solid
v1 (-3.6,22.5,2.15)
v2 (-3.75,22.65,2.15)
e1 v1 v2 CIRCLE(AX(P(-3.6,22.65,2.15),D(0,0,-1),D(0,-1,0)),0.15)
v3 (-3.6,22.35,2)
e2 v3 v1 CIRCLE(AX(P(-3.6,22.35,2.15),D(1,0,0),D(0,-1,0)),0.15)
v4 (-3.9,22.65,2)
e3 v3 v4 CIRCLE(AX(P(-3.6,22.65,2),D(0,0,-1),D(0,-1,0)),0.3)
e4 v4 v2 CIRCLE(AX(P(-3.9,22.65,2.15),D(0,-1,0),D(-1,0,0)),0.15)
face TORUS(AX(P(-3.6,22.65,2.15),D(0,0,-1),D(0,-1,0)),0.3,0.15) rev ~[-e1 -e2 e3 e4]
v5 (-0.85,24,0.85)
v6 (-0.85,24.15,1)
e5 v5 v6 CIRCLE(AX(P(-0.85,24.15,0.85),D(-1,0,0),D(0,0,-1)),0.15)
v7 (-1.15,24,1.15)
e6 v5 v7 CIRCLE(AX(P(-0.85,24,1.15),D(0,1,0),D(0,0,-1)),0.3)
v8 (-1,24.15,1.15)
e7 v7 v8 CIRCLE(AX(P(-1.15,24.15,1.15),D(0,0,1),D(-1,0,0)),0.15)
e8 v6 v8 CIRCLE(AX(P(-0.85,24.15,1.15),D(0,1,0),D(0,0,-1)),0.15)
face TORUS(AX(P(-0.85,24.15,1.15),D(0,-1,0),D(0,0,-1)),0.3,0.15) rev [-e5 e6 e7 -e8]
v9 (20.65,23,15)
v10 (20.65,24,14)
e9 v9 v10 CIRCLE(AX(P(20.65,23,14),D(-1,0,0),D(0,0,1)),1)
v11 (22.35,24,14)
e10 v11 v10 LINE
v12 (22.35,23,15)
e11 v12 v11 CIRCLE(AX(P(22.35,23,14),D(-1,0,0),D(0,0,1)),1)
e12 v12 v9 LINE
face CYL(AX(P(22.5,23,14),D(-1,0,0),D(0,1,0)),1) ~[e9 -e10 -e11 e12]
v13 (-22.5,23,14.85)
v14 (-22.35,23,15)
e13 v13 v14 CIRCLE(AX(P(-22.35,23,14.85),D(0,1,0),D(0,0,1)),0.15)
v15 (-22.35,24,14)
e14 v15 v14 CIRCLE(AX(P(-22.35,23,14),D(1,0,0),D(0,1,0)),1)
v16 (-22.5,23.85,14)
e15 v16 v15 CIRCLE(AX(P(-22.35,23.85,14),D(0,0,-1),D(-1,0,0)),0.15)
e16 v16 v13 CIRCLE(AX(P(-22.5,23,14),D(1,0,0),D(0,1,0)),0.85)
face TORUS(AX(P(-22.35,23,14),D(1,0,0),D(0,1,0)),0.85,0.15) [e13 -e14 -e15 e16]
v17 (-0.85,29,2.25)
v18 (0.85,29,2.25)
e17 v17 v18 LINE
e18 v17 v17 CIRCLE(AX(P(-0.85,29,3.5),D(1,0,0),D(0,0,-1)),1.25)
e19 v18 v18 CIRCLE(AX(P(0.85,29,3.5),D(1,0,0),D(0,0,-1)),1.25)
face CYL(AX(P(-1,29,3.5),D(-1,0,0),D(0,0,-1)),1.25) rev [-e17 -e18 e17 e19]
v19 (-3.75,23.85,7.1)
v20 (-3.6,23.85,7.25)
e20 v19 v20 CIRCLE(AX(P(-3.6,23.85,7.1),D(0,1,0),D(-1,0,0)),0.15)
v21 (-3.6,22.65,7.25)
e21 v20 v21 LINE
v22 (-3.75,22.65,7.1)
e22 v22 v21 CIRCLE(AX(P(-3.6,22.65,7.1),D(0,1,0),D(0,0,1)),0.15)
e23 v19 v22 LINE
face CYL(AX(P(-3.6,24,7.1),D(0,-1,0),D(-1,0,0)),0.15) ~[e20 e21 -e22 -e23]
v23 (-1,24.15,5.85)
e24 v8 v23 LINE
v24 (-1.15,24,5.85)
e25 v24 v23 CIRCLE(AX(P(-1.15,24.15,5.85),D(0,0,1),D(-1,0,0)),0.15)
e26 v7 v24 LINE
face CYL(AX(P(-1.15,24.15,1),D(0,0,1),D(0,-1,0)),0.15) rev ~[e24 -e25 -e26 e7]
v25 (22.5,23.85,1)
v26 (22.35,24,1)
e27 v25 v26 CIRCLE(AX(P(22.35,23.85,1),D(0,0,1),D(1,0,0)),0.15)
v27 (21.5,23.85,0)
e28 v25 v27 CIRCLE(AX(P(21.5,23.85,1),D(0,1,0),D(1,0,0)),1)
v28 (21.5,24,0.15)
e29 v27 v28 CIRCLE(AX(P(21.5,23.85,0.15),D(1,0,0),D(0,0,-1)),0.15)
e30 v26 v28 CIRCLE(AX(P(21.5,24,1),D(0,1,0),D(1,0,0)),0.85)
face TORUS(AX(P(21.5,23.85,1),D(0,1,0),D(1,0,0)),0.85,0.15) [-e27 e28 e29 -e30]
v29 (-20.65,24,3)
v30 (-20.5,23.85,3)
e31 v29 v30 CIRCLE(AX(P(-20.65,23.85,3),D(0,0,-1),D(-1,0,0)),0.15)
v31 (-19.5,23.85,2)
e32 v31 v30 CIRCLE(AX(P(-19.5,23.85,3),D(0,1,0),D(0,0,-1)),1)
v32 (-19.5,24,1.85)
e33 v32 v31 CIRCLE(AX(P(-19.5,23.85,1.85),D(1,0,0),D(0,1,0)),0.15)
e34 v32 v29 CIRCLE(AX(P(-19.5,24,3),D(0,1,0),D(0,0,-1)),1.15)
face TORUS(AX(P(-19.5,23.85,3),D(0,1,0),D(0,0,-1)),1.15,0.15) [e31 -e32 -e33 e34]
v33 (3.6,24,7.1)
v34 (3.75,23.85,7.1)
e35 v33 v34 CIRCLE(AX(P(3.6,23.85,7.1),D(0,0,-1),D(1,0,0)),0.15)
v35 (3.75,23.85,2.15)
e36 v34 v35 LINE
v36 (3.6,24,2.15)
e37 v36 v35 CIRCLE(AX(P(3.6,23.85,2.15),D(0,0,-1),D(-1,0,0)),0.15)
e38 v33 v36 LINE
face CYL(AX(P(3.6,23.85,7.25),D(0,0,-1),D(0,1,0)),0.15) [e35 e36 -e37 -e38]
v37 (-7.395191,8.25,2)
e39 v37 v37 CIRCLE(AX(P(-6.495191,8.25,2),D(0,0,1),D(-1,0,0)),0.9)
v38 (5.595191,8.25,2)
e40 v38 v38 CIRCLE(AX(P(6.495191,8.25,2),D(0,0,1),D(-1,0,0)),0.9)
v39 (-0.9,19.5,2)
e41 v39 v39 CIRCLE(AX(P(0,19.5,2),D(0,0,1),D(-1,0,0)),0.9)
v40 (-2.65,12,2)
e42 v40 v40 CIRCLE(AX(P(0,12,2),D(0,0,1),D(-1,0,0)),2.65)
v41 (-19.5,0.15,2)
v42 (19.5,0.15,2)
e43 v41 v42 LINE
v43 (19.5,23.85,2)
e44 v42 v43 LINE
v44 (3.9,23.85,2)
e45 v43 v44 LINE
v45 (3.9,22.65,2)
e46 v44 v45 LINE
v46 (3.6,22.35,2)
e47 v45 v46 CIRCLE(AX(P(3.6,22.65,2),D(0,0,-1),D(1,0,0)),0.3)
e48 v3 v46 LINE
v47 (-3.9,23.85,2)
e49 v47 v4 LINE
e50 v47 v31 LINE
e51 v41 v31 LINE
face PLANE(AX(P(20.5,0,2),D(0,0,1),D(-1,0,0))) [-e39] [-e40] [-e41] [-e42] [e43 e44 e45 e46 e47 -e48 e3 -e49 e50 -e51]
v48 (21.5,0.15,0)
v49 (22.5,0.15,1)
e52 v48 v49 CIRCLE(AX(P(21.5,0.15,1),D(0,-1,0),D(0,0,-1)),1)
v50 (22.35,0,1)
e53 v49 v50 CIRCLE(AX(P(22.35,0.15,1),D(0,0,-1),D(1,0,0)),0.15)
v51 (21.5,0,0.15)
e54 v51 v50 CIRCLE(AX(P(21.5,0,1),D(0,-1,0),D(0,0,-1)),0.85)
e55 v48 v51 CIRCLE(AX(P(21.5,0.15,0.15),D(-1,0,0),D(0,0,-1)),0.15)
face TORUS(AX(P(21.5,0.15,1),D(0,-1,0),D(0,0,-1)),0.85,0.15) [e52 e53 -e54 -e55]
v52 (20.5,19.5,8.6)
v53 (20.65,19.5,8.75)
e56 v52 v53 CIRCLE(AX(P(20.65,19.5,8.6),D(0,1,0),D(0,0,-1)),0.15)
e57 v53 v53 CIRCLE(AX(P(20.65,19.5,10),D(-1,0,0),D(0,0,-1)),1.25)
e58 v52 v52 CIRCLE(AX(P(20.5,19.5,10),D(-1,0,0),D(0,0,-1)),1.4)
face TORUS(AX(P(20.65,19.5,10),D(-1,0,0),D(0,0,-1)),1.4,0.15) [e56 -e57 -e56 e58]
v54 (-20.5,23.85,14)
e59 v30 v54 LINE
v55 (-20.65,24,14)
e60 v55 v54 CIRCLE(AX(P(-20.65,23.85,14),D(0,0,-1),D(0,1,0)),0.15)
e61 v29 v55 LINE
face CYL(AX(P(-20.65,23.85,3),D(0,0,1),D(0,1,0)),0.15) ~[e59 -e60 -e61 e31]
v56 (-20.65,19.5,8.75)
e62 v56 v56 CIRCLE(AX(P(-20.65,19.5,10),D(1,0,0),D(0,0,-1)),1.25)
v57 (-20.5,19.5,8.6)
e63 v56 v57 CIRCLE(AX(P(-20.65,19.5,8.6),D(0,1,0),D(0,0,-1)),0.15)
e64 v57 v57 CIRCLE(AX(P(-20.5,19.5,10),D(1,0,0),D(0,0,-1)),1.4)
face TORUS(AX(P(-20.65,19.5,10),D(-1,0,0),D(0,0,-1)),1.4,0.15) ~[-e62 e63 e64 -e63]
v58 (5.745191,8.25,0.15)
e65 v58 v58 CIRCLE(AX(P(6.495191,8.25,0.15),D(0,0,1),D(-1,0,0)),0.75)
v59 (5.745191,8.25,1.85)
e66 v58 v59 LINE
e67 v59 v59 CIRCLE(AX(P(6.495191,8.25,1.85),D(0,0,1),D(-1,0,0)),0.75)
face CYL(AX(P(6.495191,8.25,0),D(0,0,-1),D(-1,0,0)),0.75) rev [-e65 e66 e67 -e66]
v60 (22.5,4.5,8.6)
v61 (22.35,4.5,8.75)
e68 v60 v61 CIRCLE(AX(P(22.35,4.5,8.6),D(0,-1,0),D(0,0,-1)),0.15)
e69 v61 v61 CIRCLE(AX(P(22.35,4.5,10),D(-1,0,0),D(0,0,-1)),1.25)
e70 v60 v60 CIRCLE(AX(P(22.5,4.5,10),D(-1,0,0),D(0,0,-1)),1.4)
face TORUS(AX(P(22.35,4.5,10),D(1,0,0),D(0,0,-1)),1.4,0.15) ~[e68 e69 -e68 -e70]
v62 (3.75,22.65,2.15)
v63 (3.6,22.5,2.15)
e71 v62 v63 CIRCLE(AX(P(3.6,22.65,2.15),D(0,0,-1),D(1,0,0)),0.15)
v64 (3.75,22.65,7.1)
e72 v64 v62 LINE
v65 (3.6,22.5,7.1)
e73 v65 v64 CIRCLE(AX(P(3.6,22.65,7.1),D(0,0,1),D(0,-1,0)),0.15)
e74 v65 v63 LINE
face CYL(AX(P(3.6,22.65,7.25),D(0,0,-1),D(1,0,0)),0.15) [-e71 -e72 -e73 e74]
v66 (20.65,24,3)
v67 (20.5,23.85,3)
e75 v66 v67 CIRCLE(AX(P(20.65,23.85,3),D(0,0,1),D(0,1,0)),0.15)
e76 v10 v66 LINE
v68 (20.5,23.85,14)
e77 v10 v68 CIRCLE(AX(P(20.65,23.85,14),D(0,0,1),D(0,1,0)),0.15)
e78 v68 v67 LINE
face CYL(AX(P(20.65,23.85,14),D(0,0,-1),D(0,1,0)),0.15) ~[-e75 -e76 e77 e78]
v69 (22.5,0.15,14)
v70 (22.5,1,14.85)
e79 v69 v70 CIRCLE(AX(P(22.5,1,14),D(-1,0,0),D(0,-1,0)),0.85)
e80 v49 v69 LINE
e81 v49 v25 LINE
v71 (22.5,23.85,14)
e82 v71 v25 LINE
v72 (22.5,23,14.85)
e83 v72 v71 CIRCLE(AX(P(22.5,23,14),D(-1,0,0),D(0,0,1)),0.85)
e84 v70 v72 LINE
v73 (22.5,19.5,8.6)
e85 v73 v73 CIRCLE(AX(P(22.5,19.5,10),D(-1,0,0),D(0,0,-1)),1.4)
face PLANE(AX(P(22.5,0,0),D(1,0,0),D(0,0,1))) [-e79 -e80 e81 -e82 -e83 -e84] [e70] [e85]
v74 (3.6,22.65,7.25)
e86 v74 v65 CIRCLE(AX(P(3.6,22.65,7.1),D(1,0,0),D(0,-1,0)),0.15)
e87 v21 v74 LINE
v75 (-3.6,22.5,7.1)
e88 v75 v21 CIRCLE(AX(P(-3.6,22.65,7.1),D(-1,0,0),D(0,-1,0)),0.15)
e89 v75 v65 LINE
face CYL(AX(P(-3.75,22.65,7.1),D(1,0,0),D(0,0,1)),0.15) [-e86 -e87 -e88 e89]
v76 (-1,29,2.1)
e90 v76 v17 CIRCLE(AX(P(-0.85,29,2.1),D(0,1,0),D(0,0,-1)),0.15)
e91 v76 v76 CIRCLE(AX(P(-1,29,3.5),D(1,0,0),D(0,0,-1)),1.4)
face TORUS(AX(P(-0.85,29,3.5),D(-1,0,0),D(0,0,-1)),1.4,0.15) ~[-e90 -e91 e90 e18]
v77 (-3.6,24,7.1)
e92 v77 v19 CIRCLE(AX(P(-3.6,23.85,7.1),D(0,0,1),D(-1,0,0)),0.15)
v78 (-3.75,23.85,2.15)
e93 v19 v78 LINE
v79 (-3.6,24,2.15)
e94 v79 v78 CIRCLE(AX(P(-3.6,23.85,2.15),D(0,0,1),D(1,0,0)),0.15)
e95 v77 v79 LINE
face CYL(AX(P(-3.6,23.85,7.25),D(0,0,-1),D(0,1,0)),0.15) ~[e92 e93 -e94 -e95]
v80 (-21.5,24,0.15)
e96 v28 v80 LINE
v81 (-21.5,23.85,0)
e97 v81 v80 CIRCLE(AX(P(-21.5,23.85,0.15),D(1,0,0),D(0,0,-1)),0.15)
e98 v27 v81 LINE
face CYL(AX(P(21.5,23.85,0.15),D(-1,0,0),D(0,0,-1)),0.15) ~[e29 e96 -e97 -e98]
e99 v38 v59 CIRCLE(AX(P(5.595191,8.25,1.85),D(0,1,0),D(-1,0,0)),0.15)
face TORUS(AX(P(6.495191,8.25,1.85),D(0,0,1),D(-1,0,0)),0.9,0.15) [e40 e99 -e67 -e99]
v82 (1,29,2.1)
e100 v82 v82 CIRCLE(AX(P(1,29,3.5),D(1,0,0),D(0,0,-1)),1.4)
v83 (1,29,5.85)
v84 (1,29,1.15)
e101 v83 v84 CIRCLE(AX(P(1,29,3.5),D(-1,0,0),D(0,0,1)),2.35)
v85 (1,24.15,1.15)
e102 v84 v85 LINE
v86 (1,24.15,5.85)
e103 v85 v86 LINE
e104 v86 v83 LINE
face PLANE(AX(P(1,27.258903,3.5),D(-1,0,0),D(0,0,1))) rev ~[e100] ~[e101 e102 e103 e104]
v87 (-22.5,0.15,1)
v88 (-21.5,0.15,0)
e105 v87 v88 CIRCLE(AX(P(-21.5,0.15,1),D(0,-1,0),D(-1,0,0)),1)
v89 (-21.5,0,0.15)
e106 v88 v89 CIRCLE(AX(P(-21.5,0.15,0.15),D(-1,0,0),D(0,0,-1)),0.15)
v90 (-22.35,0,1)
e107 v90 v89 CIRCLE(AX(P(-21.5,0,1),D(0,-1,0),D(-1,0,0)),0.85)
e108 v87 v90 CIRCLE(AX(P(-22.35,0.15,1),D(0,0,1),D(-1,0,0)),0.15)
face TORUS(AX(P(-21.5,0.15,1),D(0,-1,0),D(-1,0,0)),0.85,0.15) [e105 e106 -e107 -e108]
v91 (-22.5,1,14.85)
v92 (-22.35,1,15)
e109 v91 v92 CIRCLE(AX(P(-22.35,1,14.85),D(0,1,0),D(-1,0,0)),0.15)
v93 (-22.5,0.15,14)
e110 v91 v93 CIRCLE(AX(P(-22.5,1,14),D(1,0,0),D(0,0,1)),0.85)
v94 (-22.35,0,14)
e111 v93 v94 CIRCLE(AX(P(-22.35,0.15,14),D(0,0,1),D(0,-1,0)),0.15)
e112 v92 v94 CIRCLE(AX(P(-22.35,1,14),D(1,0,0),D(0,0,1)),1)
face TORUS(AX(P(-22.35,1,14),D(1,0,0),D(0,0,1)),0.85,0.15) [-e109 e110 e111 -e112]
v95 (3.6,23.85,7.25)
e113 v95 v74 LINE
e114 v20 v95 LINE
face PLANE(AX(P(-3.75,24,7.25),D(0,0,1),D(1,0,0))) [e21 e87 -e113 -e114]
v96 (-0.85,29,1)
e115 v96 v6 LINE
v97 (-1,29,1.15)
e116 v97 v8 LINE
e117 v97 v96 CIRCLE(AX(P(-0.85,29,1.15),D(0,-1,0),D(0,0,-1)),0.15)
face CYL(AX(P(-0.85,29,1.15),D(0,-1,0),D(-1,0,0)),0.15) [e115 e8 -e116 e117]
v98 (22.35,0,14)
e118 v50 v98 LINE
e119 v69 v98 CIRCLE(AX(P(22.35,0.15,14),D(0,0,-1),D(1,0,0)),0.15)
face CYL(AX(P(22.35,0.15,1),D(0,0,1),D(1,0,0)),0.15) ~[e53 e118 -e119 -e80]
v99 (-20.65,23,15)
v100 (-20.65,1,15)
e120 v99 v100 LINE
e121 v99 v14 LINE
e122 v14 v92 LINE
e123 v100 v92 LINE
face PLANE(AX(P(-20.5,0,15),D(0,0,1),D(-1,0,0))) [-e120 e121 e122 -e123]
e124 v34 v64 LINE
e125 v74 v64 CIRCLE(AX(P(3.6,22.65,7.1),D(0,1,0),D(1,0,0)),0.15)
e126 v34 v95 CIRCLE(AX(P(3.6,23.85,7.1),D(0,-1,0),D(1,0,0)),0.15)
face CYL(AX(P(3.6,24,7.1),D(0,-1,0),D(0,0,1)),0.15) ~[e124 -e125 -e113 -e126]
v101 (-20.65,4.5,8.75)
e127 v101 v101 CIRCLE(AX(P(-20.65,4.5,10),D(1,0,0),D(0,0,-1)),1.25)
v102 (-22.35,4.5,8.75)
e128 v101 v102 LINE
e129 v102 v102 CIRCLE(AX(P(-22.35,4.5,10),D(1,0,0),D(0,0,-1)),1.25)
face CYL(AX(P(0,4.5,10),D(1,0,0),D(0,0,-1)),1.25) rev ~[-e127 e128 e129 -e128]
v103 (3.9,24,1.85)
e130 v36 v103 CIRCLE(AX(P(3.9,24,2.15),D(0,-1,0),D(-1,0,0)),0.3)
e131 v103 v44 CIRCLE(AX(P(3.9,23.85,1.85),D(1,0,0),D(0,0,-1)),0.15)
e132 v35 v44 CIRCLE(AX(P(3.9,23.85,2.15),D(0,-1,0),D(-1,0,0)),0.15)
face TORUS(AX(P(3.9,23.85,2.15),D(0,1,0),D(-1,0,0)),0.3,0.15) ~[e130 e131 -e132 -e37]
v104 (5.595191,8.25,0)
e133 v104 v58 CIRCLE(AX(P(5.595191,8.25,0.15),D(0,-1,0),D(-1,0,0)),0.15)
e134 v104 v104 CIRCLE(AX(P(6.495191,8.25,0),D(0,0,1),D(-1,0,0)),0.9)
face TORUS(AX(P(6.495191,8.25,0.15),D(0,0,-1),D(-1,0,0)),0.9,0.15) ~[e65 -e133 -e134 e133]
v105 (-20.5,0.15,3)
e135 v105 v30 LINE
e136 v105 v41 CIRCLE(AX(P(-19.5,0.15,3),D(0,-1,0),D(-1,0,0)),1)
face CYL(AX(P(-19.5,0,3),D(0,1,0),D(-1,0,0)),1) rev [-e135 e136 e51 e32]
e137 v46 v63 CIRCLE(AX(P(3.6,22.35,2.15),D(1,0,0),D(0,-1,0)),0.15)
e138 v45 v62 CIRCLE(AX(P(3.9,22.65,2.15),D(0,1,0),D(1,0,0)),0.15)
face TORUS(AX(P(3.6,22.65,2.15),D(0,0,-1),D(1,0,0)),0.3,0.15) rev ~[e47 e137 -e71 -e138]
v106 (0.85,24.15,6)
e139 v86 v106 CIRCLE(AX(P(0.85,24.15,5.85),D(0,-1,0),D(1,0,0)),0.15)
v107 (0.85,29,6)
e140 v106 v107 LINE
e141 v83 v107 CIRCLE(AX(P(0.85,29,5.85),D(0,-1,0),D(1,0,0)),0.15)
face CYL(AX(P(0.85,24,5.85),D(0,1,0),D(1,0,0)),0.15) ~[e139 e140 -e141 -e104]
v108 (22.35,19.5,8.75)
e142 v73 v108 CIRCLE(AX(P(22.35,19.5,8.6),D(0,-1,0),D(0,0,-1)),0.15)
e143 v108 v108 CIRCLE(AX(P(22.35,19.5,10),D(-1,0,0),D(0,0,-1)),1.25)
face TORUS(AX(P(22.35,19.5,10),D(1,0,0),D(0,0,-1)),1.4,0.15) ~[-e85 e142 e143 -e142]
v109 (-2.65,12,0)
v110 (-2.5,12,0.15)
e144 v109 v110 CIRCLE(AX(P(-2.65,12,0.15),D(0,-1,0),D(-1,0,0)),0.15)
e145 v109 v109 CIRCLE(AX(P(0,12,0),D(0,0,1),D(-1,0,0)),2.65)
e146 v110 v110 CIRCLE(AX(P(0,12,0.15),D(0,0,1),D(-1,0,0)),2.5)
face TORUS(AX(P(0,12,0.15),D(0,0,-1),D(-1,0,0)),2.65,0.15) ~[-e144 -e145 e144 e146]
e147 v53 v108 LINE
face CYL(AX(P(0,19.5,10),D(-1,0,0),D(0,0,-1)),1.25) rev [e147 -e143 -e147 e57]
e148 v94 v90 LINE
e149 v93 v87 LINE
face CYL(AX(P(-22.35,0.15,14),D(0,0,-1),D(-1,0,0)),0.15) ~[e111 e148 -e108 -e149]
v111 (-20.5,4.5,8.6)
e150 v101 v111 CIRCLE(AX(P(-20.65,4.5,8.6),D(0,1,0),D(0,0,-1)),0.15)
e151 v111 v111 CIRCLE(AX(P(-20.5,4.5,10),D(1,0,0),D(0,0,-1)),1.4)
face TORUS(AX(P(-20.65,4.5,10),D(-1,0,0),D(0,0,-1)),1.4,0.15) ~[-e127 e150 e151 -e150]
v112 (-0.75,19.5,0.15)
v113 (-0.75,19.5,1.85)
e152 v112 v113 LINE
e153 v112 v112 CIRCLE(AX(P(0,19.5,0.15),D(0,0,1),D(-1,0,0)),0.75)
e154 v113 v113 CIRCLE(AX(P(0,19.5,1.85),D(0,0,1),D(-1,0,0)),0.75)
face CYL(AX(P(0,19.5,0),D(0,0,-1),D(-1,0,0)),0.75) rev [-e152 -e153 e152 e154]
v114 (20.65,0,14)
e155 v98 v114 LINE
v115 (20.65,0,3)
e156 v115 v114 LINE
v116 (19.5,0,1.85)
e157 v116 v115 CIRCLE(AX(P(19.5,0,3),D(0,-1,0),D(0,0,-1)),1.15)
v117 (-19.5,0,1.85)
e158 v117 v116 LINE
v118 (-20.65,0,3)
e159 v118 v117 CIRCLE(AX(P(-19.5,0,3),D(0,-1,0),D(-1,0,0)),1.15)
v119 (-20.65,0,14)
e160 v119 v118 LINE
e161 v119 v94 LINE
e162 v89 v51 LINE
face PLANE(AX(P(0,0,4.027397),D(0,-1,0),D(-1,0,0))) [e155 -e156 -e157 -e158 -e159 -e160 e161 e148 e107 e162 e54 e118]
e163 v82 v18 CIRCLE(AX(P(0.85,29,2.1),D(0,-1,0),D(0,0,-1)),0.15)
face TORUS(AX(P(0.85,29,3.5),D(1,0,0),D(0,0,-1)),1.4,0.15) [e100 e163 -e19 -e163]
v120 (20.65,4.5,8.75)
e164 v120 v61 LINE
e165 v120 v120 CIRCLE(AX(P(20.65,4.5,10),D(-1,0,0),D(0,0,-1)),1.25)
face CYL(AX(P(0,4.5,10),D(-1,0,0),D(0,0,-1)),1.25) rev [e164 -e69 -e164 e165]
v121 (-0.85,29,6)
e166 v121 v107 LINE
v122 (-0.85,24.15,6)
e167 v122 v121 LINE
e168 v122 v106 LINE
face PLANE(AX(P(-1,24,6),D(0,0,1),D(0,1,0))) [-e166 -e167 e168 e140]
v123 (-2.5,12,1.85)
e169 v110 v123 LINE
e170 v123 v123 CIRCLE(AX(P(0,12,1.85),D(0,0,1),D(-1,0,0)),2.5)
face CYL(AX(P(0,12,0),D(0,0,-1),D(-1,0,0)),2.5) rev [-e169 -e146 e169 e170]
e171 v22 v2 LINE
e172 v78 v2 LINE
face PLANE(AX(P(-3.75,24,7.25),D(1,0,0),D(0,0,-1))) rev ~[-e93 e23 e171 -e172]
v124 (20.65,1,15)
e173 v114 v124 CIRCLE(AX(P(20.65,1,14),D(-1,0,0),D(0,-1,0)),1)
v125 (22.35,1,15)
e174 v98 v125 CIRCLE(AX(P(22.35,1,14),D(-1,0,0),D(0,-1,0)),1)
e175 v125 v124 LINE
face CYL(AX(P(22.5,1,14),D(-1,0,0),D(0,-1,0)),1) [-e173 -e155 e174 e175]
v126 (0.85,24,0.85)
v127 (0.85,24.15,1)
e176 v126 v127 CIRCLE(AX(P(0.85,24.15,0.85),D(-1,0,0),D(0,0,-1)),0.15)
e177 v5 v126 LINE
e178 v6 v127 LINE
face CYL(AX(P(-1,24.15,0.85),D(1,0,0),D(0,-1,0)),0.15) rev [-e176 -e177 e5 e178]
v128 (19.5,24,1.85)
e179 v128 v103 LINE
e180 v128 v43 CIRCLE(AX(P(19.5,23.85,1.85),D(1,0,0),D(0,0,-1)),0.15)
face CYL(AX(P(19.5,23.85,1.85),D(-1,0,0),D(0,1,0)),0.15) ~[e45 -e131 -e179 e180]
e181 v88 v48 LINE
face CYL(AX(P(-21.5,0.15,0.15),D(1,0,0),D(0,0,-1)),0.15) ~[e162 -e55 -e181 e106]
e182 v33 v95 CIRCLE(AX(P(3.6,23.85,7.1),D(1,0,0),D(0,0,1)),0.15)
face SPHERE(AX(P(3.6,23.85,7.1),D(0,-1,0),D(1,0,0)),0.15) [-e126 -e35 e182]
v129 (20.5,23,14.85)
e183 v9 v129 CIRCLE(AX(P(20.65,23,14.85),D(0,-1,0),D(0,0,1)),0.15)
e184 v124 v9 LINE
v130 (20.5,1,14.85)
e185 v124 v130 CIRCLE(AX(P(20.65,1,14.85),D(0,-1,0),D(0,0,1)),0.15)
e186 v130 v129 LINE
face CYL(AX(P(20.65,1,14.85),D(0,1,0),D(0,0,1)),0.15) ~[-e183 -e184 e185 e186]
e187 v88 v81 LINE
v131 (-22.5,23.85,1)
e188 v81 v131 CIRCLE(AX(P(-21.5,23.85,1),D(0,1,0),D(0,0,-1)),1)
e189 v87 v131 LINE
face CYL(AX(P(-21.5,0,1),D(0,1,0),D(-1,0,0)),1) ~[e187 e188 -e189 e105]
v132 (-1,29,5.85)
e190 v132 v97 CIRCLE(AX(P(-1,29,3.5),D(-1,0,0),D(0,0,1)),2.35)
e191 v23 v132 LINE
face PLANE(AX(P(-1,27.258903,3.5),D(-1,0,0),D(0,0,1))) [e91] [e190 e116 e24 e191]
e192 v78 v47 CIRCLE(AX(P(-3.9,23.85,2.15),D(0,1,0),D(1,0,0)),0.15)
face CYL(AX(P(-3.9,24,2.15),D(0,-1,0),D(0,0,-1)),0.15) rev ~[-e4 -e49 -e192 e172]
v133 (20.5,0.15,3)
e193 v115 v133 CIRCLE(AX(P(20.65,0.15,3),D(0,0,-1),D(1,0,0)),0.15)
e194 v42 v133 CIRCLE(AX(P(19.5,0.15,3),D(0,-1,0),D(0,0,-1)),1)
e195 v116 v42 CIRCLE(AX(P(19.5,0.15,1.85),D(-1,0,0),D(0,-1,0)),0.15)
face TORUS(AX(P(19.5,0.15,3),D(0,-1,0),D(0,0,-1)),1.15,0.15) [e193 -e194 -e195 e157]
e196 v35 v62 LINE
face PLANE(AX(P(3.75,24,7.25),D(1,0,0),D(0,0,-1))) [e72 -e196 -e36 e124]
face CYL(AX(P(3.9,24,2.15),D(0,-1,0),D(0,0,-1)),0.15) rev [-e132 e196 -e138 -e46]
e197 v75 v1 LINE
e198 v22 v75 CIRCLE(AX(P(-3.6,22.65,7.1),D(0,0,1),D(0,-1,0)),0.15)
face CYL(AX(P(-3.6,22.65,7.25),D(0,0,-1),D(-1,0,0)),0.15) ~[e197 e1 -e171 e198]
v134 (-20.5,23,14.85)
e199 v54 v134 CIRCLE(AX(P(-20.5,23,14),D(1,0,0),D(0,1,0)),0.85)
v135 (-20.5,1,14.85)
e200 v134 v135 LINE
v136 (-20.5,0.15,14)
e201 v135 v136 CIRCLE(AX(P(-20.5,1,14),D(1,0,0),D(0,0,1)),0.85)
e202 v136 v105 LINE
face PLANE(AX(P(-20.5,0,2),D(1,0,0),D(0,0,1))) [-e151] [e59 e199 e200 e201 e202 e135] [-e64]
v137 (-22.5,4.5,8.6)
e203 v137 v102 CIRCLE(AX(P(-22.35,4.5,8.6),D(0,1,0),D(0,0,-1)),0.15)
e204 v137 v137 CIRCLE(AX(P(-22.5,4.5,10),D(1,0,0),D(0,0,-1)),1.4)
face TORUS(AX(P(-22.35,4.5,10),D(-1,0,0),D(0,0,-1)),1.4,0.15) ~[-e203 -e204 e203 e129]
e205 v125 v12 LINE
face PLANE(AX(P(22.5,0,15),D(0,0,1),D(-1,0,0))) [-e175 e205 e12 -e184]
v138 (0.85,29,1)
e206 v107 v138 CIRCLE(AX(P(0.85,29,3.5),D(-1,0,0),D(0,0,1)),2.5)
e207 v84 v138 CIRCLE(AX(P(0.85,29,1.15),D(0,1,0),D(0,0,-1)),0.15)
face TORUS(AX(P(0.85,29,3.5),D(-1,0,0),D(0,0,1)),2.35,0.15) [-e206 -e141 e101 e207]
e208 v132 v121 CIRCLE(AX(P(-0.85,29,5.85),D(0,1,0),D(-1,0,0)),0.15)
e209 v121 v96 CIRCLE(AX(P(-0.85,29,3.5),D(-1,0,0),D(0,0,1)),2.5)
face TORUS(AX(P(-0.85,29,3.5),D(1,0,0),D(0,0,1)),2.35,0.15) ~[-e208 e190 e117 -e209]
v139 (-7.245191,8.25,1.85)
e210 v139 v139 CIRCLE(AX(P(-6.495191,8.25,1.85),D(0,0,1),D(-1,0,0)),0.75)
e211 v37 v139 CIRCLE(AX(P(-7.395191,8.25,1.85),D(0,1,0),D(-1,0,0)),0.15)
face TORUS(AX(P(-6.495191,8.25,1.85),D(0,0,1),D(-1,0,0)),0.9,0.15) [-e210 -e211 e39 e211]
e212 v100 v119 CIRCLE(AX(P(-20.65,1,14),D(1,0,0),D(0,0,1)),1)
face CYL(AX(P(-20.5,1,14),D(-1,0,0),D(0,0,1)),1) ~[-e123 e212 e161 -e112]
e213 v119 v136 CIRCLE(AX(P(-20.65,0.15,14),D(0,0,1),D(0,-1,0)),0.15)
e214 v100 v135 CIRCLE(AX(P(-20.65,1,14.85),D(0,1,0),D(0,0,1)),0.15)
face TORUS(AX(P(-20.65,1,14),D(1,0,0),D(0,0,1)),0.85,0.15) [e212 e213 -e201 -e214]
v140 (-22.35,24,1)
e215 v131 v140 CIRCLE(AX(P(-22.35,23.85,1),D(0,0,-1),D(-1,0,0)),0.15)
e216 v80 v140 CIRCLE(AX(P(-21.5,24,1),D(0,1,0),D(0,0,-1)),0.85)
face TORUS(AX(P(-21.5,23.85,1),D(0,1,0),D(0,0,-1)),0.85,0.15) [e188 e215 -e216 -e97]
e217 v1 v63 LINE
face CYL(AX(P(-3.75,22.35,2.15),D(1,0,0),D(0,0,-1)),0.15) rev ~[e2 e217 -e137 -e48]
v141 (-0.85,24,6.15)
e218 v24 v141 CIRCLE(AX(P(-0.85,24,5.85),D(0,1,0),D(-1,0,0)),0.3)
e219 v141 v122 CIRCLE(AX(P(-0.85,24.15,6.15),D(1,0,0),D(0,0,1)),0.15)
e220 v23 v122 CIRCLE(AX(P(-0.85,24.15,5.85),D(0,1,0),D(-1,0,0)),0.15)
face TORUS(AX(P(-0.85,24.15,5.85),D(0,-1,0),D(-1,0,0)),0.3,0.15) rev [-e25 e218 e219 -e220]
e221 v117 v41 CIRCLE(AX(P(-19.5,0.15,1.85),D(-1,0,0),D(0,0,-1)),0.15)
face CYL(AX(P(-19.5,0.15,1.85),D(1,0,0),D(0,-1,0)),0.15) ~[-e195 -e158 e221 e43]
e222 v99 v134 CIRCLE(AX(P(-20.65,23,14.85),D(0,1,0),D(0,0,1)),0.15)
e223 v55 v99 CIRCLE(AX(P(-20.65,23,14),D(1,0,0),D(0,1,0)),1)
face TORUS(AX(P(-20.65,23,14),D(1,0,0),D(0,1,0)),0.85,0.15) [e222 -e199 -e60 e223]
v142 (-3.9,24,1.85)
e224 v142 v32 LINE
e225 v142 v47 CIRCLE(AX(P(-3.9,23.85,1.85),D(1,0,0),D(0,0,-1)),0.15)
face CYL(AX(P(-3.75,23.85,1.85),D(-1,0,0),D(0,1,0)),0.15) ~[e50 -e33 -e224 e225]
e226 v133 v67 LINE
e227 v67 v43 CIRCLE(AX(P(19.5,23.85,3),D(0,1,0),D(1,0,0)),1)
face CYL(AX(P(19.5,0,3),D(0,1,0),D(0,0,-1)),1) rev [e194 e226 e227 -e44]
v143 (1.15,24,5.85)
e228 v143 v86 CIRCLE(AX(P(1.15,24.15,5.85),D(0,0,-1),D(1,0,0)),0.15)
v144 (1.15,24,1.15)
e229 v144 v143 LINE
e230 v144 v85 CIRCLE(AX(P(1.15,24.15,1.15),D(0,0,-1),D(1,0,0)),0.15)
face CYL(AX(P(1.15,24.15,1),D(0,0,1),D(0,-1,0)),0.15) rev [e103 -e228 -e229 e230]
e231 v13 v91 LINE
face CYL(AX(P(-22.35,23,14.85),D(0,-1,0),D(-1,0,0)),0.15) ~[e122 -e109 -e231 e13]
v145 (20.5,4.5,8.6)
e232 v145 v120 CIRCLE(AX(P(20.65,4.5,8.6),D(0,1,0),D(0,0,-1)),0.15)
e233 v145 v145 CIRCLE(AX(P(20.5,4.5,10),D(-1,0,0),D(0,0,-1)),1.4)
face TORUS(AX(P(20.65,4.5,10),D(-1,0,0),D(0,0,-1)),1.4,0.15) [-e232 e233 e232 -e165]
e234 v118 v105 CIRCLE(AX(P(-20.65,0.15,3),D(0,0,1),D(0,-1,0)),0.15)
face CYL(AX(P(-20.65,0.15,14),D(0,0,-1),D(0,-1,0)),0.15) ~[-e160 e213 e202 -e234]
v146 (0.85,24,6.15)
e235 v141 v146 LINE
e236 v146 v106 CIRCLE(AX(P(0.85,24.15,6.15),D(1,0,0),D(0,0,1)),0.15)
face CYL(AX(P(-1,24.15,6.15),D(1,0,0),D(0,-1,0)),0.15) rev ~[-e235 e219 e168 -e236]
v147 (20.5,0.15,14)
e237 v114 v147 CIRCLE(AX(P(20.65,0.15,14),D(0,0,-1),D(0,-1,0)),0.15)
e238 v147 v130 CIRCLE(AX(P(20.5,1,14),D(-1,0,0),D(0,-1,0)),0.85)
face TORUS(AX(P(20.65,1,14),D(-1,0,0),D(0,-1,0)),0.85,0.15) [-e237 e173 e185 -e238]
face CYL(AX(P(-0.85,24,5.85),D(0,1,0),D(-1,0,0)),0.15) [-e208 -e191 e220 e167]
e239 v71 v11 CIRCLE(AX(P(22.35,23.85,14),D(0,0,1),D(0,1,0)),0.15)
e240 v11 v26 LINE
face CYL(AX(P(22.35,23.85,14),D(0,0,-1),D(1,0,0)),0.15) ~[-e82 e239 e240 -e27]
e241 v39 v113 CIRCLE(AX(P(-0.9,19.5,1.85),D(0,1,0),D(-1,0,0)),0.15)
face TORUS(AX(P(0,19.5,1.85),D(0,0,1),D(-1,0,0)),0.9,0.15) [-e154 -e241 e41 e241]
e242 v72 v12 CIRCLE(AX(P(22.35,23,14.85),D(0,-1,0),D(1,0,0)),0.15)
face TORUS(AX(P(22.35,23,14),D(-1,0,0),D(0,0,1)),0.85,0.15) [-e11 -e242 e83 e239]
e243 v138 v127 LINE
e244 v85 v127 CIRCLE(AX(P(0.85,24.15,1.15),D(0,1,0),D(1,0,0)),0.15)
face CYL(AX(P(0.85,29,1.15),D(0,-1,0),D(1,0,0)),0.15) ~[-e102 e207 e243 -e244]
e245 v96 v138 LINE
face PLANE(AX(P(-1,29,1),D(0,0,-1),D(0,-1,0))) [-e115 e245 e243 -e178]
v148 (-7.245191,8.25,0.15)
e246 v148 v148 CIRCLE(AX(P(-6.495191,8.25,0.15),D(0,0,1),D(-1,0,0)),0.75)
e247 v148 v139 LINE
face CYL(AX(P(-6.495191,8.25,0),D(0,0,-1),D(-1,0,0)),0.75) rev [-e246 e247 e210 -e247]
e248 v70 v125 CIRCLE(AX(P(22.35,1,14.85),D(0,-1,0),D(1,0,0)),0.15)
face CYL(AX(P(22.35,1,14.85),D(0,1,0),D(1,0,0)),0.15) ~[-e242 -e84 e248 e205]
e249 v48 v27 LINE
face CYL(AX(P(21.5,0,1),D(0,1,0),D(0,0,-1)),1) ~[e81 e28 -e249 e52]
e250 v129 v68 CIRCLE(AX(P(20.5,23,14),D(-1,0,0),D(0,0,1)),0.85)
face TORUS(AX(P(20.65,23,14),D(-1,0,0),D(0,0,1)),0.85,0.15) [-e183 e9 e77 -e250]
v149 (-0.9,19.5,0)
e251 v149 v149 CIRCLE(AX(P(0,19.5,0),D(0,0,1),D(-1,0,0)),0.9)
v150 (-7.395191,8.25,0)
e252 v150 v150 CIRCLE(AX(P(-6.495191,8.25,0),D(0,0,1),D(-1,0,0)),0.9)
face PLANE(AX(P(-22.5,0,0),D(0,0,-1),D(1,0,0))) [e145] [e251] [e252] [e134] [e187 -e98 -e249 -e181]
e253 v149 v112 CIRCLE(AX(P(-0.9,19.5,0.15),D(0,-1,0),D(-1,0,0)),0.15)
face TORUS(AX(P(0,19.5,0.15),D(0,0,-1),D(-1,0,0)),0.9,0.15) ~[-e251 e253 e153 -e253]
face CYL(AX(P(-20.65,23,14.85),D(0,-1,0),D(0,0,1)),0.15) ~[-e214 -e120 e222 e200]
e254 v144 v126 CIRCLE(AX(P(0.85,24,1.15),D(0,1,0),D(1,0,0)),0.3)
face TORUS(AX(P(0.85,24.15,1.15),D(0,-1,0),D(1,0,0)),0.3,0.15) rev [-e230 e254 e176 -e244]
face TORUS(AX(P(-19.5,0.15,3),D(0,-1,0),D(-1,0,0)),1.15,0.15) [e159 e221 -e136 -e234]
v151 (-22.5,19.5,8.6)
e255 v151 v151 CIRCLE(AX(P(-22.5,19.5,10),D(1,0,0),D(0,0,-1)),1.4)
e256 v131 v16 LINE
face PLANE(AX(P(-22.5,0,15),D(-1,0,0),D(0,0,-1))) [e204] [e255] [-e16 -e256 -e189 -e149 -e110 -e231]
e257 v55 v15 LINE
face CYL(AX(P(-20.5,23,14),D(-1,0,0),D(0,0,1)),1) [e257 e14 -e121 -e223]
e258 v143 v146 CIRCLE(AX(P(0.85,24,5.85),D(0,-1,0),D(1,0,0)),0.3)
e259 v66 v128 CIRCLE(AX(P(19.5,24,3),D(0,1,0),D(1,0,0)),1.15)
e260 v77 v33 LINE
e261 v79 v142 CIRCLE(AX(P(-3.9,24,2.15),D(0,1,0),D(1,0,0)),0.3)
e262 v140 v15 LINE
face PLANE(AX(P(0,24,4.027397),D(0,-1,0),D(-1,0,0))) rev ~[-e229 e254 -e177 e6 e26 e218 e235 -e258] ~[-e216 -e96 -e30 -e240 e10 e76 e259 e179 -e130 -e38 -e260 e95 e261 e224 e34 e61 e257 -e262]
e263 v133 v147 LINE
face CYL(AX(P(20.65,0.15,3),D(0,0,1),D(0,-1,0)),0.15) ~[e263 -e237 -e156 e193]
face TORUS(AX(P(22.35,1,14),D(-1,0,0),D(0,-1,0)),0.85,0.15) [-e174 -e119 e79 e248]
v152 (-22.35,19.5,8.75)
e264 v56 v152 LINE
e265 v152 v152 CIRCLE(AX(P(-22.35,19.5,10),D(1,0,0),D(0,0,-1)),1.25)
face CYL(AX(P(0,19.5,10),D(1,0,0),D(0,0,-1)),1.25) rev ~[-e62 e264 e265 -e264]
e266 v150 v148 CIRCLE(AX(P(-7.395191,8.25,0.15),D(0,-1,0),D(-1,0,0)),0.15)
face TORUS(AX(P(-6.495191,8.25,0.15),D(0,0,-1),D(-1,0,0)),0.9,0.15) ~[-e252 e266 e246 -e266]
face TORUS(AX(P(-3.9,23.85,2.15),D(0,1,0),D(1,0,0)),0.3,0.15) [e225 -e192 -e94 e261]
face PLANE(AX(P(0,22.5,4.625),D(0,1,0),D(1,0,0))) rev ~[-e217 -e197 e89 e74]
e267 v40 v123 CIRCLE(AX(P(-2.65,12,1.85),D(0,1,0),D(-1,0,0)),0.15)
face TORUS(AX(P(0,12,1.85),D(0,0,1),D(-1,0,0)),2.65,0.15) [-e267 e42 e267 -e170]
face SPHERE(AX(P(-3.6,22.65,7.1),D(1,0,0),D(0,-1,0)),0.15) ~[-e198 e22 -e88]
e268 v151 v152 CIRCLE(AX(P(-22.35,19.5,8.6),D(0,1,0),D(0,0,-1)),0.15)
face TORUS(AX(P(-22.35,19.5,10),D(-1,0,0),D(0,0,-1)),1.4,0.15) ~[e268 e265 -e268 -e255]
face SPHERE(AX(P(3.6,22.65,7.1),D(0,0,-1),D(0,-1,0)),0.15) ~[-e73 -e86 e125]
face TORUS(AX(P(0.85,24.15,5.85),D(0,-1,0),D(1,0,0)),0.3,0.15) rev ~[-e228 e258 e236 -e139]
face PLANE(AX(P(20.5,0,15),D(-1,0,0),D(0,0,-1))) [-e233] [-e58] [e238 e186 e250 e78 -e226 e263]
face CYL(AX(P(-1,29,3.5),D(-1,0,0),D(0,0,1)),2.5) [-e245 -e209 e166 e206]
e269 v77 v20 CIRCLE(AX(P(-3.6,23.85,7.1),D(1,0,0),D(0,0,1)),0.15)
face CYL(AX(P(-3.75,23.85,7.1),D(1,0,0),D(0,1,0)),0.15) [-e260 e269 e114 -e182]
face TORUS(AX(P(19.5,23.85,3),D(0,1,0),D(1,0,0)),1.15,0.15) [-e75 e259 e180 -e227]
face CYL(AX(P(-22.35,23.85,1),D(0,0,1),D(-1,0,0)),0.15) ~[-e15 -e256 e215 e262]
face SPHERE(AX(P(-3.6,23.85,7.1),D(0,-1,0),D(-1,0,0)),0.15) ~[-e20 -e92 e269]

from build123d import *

# Parameters (mm, degrees)
BOSS_EXTRUDE1_DEPTH            = 24
CUT_EXTRUDE1_REACH             = 38.156
SKETCH2_R                      = 1.25
CUT_EXTRUDE1_DIRECTION_2_REACH = 38.156
SKETCH3_R                      = 2.5
SKETCH3_R_2                    = 0.75
CUT_EXTRUDE2_DEPTH             = 2
FILLET1_R                      = 1
FILLET2_R                      = 1
SKETCH4_W                      = 7.5
SKETCH4_H                      = 5.25
BOSS_EXTRUDE2_DEPTH            = 1.5
BOSS_EXTRUDE3_DEPTH            = 1
BOSS_EXTRUDE3_DEPTH_BACK       = 1
SKETCH5_R                      = 1.25
FILLET3_R                      = 0.15


with BuildPart() as part:
    # Sketch1 → Boss-Extrude1 (new body)
    with BuildSketch(Plane(origin=(0, 0, 0), x_dir=(1, 0, 0), z_dir=(0, 1, 0))):
        Polygon((-22.5, -15), (-22.5, 0), (22.5, 0), (22.5, -15), (20.5, -15), (20.5, -2), (-20.5, -2), (-20.5, -15), align=None)
    extrude(amount=BOSS_EXTRUDE1_DEPTH)

    # Cut-Extrude1: up to this face of the body (flat: up to its plane)
    cut_extrude1_end = Plane(part.part.faces().sort_by_distance((-22.5, 12, 7.5))[0])
    # Sketch2 → Cut-Extrude1 (cut, up to the picked face)
    with BuildSketch(Plane(origin=(0, 0, 0), x_dir=(0, 0, -1), z_dir=(1, 0, 0)), mode=Mode.PRIVATE) as cut_extrude1_sk1:
        with Locations((-10, 19.5)):
            Circle(SKETCH2_R)
    cut_extrude1_tool1 = split(extrude(cut_extrude1_sk1.sketch, amount=-CUT_EXTRUDE1_REACH, mode=Mode.PRIVATE), bisect_by=cut_extrude1_end, keep=Keep.BOTH, mode=Mode.PRIVATE)
    # Sketch2 → Cut-Extrude1 (cut, up to the picked face)
    with BuildSketch(Plane(origin=(0, 0, 0), x_dir=(0, 0, -1), z_dir=(1, 0, 0)), mode=Mode.PRIVATE) as cut_extrude1_sk2:
        with Locations((-10, 4.5)):
            Circle(SKETCH2_R)
    cut_extrude1_tool2 = split(extrude(cut_extrude1_sk2.sketch, amount=-CUT_EXTRUDE1_REACH, mode=Mode.PRIVATE), bisect_by=cut_extrude1_end, keep=Keep.BOTH, mode=Mode.PRIVATE)
    add(cut_extrude1_tool1.solids().sort_by(Axis((0, 19.5, 10), (-1, 0, 0)))[0], mode=Mode.SUBTRACT)
    add(cut_extrude1_tool2.solids().sort_by(Axis((0, 4.5, 10), (-1, 0, 0)))[0], mode=Mode.SUBTRACT)

    # Cut-Extrude1 direction 2: up to this face of the body (flat: up to its plane)
    cut_extrude1_direction_2_end = Plane(part.part.faces().sort_by_distance((22.5, 12, 7.5))[0])
    # Sketch2 → Cut-Extrude1 direction 2 (cut, up to the picked face)
    with BuildSketch(Plane(origin=(0, 0, 0), x_dir=(0, 0, -1), z_dir=(1, 0, 0)), mode=Mode.PRIVATE) as cut_extrude1_direction_2_sk1:
        with Locations((-10, 19.5)):
            Circle(SKETCH2_R)
    cut_extrude1_direction_2_tool1 = split(extrude(cut_extrude1_direction_2_sk1.sketch, amount=CUT_EXTRUDE1_DIRECTION_2_REACH, mode=Mode.PRIVATE), bisect_by=cut_extrude1_direction_2_end, keep=Keep.BOTH, mode=Mode.PRIVATE)
    # Sketch2 → Cut-Extrude1 direction 2 (cut, up to the picked face)
    with BuildSketch(Plane(origin=(0, 0, 0), x_dir=(0, 0, -1), z_dir=(1, 0, 0)), mode=Mode.PRIVATE) as cut_extrude1_direction_2_sk2:
        with Locations((-10, 4.5)):
            Circle(SKETCH2_R)
    cut_extrude1_direction_2_tool2 = split(extrude(cut_extrude1_direction_2_sk2.sketch, amount=CUT_EXTRUDE1_DIRECTION_2_REACH, mode=Mode.PRIVATE), bisect_by=cut_extrude1_direction_2_end, keep=Keep.BOTH, mode=Mode.PRIVATE)
    add(cut_extrude1_direction_2_tool1.solids().sort_by(Axis((0, 19.5, 10), (1, 0, 0)))[0], mode=Mode.SUBTRACT)
    add(cut_extrude1_direction_2_tool2.solids().sort_by(Axis((0, 4.5, 10), (1, 0, 0)))[0], mode=Mode.SUBTRACT)

    # Sketch3 → Cut-Extrude2 (cut)
    with BuildSketch(Plane.XY):
        with Locations(Location((0, 12, 0), (0, 0, 180))):
            Circle(SKETCH3_R)
        with Locations(Location((0, 19.5, 0), (0, 0, 180))):
            Circle(SKETCH3_R_2)
        with Locations(Location((6.495190528, 8.25, 0), (0, 0, 180))):
            Circle(SKETCH3_R_2)
        with Locations(Location((-6.495190528, 8.25, 0), (0, 0, 180))):
            Circle(SKETCH3_R_2)
    extrude(amount=CUT_EXTRUDE2_DEPTH, mode=Mode.SUBTRACT)

    # Fillet1
    fillet1_edges = [part.edges().sort_by_distance(p)[0] for p in [
        (-21.5, 0, 15),
        (21.5, 24, 15),
        (-21.5, 24, 15),
        (21.5, 0, 15),
    ]]
    fillet(fillet1_edges, radius=FILLET1_R)

    # Fillet2
    fillet2_edges = [part.edges().sort_by_distance(p)[0] for p in [
        (-22.5, 12, 0),
        (22.5, 12, 0),
        (20.5, 12, 2),
        (-20.5, 12, 2),
    ]]
    fillet(fillet2_edges, radius=FILLET2_R)

    # Sketch4 → Boss-Extrude2 (add)
    with BuildSketch(Plane(origin=(0, 24, 0), x_dir=(1, 0, 0), z_dir=(0, 1, 0))):
        with Locations((0, -4.625)):
            Rectangle(SKETCH4_W, SKETCH4_H)
    extrude(amount=-BOSS_EXTRUDE2_DEPTH)

    # Sketch5 → Boss-Extrude3 (add, two sides: drawn at the far end of the back side and taken through both)
    with BuildSketch(Plane(origin=(0, 0, 0), x_dir=(0, 0, -1), z_dir=(1, 0, 0)).offset(-BOSS_EXTRUDE3_DEPTH_BACK)):
        with BuildLine():
            Line((-1, 29), (-1, 24))
            Line((-1, 24), (-6, 24))
            Line((-6, 24), (-6, 29))
            ThreePointArc((-6, 29), (-3.5, 31.5), (-1, 29))
        make_face()
        with Locations((-3.5, 29)):
            Circle(SKETCH5_R, mode=Mode.SUBTRACT)
    extrude(amount=BOSS_EXTRUDE3_DEPTH + BOSS_EXTRUDE3_DEPTH_BACK)

    # Fillet3
    fillet3_edges = [part.edges().sort_by_distance(p)[0] for p in [
        (11.625, 24, 2),
        (3.75, 22.5, 4.625),
        (3.75, 23.25, 2),
        (0, 22.5, 7.25),
        (3.75, 23.25, 7.25),
        (-3.75, 22.5, 4.625),
        (-3.75, 23.25, 7.25),
        (0, 22.5, 2),
        (-3.75, 23.25, 2),
        (3.75, 24, 4.625),
        (-3.75, 24, 4.625),
        (0, 24, 7.25),
        (-1, 31.5, 3.5),
        (-1, 26.5, 1),
        (0, 24, 1),
        (-1, 24, 3.5),
        (0, 24, 6),
        (-1, 26.5, 6),
        (-1, 29, 4.75),
        (1, 29, 4.75),
        (1, 31.5, 3.5),
        (1, 26.5, 6),
        (1, 24, 3.5),
        (1, 26.5, 1),
        (-20.5, 19.5, 11.25),
        (22.5, 19.5, 11.25),
        (20.5, 19.5, 11.25),
        (-22.5, 19.5, 11.25),
        (-20.5, 4.5, 11.25),
        (22.5, 4.5, 11.25),
        (20.5, 4.5, 11.25),
        (-22.5, 4.5, 11.25),
        (-5.745190528, 8.25, 2),
        (-5.745190528, 8.25, 0),
        (7.245190528, 8.25, 2),
        (7.245190528, 8.25, 0),
        (0.75, 19.5, 2),
        (0.75, 19.5, 0),
        (2.5, 12, 2),
        (2.5, 12, 0),
        (22.5, 12, 15),
        (20.5, 12, 15),
        (22.5, 0, 7.5),
        (22.5, 24, 7.5),
        (22.5, 23.707106781, 14.707106781),
        (22.5, 0.292893219, 14.707106781),
        (-20.5, 0, 8.5),
        (20.5, 23.707106781, 14.707106781),
        (20.5, 0.292893219, 14.707106781),
        (-20.5, 24, 8.5),
        (-20.5, 12, 15),
        (-22.5, 12, 15),
        (-20.5, 23.707106781, 14.707106781),
        (-20.5, 0.292893219, 14.707106781),
        (-22.5, 23.707106781, 14.707106781),
        (-22.5, 0.292893219, 14.707106781),
        (0, 0, 0),
        (0, 24, 0),
        (20.5, 0, 8.5),
        (0, 0, 2),
        (-22.5, 0, 7.5),
        (-22.207106781, 0, 0.292893219),
        (22.207106781, 0, 0.292893219),
        (20.5, 24, 8.5),
        (-22.5, 24, 7.5),
        (-11.625, 24, 2),
        (-22.207106781, 24, 0.292893219),
        (22.207106781, 24, 0.292893219),
        (-20.207106781, 0, 2.292893219),
        (-20.207106781, 24, 2.292893219),
        (20.207106781, 0, 2.292893219),
        (20.207106781, 24, 2.292893219),
    ]]
    fillet(fillet3_edges, radius=FILLET3_R)


solid = part.part
